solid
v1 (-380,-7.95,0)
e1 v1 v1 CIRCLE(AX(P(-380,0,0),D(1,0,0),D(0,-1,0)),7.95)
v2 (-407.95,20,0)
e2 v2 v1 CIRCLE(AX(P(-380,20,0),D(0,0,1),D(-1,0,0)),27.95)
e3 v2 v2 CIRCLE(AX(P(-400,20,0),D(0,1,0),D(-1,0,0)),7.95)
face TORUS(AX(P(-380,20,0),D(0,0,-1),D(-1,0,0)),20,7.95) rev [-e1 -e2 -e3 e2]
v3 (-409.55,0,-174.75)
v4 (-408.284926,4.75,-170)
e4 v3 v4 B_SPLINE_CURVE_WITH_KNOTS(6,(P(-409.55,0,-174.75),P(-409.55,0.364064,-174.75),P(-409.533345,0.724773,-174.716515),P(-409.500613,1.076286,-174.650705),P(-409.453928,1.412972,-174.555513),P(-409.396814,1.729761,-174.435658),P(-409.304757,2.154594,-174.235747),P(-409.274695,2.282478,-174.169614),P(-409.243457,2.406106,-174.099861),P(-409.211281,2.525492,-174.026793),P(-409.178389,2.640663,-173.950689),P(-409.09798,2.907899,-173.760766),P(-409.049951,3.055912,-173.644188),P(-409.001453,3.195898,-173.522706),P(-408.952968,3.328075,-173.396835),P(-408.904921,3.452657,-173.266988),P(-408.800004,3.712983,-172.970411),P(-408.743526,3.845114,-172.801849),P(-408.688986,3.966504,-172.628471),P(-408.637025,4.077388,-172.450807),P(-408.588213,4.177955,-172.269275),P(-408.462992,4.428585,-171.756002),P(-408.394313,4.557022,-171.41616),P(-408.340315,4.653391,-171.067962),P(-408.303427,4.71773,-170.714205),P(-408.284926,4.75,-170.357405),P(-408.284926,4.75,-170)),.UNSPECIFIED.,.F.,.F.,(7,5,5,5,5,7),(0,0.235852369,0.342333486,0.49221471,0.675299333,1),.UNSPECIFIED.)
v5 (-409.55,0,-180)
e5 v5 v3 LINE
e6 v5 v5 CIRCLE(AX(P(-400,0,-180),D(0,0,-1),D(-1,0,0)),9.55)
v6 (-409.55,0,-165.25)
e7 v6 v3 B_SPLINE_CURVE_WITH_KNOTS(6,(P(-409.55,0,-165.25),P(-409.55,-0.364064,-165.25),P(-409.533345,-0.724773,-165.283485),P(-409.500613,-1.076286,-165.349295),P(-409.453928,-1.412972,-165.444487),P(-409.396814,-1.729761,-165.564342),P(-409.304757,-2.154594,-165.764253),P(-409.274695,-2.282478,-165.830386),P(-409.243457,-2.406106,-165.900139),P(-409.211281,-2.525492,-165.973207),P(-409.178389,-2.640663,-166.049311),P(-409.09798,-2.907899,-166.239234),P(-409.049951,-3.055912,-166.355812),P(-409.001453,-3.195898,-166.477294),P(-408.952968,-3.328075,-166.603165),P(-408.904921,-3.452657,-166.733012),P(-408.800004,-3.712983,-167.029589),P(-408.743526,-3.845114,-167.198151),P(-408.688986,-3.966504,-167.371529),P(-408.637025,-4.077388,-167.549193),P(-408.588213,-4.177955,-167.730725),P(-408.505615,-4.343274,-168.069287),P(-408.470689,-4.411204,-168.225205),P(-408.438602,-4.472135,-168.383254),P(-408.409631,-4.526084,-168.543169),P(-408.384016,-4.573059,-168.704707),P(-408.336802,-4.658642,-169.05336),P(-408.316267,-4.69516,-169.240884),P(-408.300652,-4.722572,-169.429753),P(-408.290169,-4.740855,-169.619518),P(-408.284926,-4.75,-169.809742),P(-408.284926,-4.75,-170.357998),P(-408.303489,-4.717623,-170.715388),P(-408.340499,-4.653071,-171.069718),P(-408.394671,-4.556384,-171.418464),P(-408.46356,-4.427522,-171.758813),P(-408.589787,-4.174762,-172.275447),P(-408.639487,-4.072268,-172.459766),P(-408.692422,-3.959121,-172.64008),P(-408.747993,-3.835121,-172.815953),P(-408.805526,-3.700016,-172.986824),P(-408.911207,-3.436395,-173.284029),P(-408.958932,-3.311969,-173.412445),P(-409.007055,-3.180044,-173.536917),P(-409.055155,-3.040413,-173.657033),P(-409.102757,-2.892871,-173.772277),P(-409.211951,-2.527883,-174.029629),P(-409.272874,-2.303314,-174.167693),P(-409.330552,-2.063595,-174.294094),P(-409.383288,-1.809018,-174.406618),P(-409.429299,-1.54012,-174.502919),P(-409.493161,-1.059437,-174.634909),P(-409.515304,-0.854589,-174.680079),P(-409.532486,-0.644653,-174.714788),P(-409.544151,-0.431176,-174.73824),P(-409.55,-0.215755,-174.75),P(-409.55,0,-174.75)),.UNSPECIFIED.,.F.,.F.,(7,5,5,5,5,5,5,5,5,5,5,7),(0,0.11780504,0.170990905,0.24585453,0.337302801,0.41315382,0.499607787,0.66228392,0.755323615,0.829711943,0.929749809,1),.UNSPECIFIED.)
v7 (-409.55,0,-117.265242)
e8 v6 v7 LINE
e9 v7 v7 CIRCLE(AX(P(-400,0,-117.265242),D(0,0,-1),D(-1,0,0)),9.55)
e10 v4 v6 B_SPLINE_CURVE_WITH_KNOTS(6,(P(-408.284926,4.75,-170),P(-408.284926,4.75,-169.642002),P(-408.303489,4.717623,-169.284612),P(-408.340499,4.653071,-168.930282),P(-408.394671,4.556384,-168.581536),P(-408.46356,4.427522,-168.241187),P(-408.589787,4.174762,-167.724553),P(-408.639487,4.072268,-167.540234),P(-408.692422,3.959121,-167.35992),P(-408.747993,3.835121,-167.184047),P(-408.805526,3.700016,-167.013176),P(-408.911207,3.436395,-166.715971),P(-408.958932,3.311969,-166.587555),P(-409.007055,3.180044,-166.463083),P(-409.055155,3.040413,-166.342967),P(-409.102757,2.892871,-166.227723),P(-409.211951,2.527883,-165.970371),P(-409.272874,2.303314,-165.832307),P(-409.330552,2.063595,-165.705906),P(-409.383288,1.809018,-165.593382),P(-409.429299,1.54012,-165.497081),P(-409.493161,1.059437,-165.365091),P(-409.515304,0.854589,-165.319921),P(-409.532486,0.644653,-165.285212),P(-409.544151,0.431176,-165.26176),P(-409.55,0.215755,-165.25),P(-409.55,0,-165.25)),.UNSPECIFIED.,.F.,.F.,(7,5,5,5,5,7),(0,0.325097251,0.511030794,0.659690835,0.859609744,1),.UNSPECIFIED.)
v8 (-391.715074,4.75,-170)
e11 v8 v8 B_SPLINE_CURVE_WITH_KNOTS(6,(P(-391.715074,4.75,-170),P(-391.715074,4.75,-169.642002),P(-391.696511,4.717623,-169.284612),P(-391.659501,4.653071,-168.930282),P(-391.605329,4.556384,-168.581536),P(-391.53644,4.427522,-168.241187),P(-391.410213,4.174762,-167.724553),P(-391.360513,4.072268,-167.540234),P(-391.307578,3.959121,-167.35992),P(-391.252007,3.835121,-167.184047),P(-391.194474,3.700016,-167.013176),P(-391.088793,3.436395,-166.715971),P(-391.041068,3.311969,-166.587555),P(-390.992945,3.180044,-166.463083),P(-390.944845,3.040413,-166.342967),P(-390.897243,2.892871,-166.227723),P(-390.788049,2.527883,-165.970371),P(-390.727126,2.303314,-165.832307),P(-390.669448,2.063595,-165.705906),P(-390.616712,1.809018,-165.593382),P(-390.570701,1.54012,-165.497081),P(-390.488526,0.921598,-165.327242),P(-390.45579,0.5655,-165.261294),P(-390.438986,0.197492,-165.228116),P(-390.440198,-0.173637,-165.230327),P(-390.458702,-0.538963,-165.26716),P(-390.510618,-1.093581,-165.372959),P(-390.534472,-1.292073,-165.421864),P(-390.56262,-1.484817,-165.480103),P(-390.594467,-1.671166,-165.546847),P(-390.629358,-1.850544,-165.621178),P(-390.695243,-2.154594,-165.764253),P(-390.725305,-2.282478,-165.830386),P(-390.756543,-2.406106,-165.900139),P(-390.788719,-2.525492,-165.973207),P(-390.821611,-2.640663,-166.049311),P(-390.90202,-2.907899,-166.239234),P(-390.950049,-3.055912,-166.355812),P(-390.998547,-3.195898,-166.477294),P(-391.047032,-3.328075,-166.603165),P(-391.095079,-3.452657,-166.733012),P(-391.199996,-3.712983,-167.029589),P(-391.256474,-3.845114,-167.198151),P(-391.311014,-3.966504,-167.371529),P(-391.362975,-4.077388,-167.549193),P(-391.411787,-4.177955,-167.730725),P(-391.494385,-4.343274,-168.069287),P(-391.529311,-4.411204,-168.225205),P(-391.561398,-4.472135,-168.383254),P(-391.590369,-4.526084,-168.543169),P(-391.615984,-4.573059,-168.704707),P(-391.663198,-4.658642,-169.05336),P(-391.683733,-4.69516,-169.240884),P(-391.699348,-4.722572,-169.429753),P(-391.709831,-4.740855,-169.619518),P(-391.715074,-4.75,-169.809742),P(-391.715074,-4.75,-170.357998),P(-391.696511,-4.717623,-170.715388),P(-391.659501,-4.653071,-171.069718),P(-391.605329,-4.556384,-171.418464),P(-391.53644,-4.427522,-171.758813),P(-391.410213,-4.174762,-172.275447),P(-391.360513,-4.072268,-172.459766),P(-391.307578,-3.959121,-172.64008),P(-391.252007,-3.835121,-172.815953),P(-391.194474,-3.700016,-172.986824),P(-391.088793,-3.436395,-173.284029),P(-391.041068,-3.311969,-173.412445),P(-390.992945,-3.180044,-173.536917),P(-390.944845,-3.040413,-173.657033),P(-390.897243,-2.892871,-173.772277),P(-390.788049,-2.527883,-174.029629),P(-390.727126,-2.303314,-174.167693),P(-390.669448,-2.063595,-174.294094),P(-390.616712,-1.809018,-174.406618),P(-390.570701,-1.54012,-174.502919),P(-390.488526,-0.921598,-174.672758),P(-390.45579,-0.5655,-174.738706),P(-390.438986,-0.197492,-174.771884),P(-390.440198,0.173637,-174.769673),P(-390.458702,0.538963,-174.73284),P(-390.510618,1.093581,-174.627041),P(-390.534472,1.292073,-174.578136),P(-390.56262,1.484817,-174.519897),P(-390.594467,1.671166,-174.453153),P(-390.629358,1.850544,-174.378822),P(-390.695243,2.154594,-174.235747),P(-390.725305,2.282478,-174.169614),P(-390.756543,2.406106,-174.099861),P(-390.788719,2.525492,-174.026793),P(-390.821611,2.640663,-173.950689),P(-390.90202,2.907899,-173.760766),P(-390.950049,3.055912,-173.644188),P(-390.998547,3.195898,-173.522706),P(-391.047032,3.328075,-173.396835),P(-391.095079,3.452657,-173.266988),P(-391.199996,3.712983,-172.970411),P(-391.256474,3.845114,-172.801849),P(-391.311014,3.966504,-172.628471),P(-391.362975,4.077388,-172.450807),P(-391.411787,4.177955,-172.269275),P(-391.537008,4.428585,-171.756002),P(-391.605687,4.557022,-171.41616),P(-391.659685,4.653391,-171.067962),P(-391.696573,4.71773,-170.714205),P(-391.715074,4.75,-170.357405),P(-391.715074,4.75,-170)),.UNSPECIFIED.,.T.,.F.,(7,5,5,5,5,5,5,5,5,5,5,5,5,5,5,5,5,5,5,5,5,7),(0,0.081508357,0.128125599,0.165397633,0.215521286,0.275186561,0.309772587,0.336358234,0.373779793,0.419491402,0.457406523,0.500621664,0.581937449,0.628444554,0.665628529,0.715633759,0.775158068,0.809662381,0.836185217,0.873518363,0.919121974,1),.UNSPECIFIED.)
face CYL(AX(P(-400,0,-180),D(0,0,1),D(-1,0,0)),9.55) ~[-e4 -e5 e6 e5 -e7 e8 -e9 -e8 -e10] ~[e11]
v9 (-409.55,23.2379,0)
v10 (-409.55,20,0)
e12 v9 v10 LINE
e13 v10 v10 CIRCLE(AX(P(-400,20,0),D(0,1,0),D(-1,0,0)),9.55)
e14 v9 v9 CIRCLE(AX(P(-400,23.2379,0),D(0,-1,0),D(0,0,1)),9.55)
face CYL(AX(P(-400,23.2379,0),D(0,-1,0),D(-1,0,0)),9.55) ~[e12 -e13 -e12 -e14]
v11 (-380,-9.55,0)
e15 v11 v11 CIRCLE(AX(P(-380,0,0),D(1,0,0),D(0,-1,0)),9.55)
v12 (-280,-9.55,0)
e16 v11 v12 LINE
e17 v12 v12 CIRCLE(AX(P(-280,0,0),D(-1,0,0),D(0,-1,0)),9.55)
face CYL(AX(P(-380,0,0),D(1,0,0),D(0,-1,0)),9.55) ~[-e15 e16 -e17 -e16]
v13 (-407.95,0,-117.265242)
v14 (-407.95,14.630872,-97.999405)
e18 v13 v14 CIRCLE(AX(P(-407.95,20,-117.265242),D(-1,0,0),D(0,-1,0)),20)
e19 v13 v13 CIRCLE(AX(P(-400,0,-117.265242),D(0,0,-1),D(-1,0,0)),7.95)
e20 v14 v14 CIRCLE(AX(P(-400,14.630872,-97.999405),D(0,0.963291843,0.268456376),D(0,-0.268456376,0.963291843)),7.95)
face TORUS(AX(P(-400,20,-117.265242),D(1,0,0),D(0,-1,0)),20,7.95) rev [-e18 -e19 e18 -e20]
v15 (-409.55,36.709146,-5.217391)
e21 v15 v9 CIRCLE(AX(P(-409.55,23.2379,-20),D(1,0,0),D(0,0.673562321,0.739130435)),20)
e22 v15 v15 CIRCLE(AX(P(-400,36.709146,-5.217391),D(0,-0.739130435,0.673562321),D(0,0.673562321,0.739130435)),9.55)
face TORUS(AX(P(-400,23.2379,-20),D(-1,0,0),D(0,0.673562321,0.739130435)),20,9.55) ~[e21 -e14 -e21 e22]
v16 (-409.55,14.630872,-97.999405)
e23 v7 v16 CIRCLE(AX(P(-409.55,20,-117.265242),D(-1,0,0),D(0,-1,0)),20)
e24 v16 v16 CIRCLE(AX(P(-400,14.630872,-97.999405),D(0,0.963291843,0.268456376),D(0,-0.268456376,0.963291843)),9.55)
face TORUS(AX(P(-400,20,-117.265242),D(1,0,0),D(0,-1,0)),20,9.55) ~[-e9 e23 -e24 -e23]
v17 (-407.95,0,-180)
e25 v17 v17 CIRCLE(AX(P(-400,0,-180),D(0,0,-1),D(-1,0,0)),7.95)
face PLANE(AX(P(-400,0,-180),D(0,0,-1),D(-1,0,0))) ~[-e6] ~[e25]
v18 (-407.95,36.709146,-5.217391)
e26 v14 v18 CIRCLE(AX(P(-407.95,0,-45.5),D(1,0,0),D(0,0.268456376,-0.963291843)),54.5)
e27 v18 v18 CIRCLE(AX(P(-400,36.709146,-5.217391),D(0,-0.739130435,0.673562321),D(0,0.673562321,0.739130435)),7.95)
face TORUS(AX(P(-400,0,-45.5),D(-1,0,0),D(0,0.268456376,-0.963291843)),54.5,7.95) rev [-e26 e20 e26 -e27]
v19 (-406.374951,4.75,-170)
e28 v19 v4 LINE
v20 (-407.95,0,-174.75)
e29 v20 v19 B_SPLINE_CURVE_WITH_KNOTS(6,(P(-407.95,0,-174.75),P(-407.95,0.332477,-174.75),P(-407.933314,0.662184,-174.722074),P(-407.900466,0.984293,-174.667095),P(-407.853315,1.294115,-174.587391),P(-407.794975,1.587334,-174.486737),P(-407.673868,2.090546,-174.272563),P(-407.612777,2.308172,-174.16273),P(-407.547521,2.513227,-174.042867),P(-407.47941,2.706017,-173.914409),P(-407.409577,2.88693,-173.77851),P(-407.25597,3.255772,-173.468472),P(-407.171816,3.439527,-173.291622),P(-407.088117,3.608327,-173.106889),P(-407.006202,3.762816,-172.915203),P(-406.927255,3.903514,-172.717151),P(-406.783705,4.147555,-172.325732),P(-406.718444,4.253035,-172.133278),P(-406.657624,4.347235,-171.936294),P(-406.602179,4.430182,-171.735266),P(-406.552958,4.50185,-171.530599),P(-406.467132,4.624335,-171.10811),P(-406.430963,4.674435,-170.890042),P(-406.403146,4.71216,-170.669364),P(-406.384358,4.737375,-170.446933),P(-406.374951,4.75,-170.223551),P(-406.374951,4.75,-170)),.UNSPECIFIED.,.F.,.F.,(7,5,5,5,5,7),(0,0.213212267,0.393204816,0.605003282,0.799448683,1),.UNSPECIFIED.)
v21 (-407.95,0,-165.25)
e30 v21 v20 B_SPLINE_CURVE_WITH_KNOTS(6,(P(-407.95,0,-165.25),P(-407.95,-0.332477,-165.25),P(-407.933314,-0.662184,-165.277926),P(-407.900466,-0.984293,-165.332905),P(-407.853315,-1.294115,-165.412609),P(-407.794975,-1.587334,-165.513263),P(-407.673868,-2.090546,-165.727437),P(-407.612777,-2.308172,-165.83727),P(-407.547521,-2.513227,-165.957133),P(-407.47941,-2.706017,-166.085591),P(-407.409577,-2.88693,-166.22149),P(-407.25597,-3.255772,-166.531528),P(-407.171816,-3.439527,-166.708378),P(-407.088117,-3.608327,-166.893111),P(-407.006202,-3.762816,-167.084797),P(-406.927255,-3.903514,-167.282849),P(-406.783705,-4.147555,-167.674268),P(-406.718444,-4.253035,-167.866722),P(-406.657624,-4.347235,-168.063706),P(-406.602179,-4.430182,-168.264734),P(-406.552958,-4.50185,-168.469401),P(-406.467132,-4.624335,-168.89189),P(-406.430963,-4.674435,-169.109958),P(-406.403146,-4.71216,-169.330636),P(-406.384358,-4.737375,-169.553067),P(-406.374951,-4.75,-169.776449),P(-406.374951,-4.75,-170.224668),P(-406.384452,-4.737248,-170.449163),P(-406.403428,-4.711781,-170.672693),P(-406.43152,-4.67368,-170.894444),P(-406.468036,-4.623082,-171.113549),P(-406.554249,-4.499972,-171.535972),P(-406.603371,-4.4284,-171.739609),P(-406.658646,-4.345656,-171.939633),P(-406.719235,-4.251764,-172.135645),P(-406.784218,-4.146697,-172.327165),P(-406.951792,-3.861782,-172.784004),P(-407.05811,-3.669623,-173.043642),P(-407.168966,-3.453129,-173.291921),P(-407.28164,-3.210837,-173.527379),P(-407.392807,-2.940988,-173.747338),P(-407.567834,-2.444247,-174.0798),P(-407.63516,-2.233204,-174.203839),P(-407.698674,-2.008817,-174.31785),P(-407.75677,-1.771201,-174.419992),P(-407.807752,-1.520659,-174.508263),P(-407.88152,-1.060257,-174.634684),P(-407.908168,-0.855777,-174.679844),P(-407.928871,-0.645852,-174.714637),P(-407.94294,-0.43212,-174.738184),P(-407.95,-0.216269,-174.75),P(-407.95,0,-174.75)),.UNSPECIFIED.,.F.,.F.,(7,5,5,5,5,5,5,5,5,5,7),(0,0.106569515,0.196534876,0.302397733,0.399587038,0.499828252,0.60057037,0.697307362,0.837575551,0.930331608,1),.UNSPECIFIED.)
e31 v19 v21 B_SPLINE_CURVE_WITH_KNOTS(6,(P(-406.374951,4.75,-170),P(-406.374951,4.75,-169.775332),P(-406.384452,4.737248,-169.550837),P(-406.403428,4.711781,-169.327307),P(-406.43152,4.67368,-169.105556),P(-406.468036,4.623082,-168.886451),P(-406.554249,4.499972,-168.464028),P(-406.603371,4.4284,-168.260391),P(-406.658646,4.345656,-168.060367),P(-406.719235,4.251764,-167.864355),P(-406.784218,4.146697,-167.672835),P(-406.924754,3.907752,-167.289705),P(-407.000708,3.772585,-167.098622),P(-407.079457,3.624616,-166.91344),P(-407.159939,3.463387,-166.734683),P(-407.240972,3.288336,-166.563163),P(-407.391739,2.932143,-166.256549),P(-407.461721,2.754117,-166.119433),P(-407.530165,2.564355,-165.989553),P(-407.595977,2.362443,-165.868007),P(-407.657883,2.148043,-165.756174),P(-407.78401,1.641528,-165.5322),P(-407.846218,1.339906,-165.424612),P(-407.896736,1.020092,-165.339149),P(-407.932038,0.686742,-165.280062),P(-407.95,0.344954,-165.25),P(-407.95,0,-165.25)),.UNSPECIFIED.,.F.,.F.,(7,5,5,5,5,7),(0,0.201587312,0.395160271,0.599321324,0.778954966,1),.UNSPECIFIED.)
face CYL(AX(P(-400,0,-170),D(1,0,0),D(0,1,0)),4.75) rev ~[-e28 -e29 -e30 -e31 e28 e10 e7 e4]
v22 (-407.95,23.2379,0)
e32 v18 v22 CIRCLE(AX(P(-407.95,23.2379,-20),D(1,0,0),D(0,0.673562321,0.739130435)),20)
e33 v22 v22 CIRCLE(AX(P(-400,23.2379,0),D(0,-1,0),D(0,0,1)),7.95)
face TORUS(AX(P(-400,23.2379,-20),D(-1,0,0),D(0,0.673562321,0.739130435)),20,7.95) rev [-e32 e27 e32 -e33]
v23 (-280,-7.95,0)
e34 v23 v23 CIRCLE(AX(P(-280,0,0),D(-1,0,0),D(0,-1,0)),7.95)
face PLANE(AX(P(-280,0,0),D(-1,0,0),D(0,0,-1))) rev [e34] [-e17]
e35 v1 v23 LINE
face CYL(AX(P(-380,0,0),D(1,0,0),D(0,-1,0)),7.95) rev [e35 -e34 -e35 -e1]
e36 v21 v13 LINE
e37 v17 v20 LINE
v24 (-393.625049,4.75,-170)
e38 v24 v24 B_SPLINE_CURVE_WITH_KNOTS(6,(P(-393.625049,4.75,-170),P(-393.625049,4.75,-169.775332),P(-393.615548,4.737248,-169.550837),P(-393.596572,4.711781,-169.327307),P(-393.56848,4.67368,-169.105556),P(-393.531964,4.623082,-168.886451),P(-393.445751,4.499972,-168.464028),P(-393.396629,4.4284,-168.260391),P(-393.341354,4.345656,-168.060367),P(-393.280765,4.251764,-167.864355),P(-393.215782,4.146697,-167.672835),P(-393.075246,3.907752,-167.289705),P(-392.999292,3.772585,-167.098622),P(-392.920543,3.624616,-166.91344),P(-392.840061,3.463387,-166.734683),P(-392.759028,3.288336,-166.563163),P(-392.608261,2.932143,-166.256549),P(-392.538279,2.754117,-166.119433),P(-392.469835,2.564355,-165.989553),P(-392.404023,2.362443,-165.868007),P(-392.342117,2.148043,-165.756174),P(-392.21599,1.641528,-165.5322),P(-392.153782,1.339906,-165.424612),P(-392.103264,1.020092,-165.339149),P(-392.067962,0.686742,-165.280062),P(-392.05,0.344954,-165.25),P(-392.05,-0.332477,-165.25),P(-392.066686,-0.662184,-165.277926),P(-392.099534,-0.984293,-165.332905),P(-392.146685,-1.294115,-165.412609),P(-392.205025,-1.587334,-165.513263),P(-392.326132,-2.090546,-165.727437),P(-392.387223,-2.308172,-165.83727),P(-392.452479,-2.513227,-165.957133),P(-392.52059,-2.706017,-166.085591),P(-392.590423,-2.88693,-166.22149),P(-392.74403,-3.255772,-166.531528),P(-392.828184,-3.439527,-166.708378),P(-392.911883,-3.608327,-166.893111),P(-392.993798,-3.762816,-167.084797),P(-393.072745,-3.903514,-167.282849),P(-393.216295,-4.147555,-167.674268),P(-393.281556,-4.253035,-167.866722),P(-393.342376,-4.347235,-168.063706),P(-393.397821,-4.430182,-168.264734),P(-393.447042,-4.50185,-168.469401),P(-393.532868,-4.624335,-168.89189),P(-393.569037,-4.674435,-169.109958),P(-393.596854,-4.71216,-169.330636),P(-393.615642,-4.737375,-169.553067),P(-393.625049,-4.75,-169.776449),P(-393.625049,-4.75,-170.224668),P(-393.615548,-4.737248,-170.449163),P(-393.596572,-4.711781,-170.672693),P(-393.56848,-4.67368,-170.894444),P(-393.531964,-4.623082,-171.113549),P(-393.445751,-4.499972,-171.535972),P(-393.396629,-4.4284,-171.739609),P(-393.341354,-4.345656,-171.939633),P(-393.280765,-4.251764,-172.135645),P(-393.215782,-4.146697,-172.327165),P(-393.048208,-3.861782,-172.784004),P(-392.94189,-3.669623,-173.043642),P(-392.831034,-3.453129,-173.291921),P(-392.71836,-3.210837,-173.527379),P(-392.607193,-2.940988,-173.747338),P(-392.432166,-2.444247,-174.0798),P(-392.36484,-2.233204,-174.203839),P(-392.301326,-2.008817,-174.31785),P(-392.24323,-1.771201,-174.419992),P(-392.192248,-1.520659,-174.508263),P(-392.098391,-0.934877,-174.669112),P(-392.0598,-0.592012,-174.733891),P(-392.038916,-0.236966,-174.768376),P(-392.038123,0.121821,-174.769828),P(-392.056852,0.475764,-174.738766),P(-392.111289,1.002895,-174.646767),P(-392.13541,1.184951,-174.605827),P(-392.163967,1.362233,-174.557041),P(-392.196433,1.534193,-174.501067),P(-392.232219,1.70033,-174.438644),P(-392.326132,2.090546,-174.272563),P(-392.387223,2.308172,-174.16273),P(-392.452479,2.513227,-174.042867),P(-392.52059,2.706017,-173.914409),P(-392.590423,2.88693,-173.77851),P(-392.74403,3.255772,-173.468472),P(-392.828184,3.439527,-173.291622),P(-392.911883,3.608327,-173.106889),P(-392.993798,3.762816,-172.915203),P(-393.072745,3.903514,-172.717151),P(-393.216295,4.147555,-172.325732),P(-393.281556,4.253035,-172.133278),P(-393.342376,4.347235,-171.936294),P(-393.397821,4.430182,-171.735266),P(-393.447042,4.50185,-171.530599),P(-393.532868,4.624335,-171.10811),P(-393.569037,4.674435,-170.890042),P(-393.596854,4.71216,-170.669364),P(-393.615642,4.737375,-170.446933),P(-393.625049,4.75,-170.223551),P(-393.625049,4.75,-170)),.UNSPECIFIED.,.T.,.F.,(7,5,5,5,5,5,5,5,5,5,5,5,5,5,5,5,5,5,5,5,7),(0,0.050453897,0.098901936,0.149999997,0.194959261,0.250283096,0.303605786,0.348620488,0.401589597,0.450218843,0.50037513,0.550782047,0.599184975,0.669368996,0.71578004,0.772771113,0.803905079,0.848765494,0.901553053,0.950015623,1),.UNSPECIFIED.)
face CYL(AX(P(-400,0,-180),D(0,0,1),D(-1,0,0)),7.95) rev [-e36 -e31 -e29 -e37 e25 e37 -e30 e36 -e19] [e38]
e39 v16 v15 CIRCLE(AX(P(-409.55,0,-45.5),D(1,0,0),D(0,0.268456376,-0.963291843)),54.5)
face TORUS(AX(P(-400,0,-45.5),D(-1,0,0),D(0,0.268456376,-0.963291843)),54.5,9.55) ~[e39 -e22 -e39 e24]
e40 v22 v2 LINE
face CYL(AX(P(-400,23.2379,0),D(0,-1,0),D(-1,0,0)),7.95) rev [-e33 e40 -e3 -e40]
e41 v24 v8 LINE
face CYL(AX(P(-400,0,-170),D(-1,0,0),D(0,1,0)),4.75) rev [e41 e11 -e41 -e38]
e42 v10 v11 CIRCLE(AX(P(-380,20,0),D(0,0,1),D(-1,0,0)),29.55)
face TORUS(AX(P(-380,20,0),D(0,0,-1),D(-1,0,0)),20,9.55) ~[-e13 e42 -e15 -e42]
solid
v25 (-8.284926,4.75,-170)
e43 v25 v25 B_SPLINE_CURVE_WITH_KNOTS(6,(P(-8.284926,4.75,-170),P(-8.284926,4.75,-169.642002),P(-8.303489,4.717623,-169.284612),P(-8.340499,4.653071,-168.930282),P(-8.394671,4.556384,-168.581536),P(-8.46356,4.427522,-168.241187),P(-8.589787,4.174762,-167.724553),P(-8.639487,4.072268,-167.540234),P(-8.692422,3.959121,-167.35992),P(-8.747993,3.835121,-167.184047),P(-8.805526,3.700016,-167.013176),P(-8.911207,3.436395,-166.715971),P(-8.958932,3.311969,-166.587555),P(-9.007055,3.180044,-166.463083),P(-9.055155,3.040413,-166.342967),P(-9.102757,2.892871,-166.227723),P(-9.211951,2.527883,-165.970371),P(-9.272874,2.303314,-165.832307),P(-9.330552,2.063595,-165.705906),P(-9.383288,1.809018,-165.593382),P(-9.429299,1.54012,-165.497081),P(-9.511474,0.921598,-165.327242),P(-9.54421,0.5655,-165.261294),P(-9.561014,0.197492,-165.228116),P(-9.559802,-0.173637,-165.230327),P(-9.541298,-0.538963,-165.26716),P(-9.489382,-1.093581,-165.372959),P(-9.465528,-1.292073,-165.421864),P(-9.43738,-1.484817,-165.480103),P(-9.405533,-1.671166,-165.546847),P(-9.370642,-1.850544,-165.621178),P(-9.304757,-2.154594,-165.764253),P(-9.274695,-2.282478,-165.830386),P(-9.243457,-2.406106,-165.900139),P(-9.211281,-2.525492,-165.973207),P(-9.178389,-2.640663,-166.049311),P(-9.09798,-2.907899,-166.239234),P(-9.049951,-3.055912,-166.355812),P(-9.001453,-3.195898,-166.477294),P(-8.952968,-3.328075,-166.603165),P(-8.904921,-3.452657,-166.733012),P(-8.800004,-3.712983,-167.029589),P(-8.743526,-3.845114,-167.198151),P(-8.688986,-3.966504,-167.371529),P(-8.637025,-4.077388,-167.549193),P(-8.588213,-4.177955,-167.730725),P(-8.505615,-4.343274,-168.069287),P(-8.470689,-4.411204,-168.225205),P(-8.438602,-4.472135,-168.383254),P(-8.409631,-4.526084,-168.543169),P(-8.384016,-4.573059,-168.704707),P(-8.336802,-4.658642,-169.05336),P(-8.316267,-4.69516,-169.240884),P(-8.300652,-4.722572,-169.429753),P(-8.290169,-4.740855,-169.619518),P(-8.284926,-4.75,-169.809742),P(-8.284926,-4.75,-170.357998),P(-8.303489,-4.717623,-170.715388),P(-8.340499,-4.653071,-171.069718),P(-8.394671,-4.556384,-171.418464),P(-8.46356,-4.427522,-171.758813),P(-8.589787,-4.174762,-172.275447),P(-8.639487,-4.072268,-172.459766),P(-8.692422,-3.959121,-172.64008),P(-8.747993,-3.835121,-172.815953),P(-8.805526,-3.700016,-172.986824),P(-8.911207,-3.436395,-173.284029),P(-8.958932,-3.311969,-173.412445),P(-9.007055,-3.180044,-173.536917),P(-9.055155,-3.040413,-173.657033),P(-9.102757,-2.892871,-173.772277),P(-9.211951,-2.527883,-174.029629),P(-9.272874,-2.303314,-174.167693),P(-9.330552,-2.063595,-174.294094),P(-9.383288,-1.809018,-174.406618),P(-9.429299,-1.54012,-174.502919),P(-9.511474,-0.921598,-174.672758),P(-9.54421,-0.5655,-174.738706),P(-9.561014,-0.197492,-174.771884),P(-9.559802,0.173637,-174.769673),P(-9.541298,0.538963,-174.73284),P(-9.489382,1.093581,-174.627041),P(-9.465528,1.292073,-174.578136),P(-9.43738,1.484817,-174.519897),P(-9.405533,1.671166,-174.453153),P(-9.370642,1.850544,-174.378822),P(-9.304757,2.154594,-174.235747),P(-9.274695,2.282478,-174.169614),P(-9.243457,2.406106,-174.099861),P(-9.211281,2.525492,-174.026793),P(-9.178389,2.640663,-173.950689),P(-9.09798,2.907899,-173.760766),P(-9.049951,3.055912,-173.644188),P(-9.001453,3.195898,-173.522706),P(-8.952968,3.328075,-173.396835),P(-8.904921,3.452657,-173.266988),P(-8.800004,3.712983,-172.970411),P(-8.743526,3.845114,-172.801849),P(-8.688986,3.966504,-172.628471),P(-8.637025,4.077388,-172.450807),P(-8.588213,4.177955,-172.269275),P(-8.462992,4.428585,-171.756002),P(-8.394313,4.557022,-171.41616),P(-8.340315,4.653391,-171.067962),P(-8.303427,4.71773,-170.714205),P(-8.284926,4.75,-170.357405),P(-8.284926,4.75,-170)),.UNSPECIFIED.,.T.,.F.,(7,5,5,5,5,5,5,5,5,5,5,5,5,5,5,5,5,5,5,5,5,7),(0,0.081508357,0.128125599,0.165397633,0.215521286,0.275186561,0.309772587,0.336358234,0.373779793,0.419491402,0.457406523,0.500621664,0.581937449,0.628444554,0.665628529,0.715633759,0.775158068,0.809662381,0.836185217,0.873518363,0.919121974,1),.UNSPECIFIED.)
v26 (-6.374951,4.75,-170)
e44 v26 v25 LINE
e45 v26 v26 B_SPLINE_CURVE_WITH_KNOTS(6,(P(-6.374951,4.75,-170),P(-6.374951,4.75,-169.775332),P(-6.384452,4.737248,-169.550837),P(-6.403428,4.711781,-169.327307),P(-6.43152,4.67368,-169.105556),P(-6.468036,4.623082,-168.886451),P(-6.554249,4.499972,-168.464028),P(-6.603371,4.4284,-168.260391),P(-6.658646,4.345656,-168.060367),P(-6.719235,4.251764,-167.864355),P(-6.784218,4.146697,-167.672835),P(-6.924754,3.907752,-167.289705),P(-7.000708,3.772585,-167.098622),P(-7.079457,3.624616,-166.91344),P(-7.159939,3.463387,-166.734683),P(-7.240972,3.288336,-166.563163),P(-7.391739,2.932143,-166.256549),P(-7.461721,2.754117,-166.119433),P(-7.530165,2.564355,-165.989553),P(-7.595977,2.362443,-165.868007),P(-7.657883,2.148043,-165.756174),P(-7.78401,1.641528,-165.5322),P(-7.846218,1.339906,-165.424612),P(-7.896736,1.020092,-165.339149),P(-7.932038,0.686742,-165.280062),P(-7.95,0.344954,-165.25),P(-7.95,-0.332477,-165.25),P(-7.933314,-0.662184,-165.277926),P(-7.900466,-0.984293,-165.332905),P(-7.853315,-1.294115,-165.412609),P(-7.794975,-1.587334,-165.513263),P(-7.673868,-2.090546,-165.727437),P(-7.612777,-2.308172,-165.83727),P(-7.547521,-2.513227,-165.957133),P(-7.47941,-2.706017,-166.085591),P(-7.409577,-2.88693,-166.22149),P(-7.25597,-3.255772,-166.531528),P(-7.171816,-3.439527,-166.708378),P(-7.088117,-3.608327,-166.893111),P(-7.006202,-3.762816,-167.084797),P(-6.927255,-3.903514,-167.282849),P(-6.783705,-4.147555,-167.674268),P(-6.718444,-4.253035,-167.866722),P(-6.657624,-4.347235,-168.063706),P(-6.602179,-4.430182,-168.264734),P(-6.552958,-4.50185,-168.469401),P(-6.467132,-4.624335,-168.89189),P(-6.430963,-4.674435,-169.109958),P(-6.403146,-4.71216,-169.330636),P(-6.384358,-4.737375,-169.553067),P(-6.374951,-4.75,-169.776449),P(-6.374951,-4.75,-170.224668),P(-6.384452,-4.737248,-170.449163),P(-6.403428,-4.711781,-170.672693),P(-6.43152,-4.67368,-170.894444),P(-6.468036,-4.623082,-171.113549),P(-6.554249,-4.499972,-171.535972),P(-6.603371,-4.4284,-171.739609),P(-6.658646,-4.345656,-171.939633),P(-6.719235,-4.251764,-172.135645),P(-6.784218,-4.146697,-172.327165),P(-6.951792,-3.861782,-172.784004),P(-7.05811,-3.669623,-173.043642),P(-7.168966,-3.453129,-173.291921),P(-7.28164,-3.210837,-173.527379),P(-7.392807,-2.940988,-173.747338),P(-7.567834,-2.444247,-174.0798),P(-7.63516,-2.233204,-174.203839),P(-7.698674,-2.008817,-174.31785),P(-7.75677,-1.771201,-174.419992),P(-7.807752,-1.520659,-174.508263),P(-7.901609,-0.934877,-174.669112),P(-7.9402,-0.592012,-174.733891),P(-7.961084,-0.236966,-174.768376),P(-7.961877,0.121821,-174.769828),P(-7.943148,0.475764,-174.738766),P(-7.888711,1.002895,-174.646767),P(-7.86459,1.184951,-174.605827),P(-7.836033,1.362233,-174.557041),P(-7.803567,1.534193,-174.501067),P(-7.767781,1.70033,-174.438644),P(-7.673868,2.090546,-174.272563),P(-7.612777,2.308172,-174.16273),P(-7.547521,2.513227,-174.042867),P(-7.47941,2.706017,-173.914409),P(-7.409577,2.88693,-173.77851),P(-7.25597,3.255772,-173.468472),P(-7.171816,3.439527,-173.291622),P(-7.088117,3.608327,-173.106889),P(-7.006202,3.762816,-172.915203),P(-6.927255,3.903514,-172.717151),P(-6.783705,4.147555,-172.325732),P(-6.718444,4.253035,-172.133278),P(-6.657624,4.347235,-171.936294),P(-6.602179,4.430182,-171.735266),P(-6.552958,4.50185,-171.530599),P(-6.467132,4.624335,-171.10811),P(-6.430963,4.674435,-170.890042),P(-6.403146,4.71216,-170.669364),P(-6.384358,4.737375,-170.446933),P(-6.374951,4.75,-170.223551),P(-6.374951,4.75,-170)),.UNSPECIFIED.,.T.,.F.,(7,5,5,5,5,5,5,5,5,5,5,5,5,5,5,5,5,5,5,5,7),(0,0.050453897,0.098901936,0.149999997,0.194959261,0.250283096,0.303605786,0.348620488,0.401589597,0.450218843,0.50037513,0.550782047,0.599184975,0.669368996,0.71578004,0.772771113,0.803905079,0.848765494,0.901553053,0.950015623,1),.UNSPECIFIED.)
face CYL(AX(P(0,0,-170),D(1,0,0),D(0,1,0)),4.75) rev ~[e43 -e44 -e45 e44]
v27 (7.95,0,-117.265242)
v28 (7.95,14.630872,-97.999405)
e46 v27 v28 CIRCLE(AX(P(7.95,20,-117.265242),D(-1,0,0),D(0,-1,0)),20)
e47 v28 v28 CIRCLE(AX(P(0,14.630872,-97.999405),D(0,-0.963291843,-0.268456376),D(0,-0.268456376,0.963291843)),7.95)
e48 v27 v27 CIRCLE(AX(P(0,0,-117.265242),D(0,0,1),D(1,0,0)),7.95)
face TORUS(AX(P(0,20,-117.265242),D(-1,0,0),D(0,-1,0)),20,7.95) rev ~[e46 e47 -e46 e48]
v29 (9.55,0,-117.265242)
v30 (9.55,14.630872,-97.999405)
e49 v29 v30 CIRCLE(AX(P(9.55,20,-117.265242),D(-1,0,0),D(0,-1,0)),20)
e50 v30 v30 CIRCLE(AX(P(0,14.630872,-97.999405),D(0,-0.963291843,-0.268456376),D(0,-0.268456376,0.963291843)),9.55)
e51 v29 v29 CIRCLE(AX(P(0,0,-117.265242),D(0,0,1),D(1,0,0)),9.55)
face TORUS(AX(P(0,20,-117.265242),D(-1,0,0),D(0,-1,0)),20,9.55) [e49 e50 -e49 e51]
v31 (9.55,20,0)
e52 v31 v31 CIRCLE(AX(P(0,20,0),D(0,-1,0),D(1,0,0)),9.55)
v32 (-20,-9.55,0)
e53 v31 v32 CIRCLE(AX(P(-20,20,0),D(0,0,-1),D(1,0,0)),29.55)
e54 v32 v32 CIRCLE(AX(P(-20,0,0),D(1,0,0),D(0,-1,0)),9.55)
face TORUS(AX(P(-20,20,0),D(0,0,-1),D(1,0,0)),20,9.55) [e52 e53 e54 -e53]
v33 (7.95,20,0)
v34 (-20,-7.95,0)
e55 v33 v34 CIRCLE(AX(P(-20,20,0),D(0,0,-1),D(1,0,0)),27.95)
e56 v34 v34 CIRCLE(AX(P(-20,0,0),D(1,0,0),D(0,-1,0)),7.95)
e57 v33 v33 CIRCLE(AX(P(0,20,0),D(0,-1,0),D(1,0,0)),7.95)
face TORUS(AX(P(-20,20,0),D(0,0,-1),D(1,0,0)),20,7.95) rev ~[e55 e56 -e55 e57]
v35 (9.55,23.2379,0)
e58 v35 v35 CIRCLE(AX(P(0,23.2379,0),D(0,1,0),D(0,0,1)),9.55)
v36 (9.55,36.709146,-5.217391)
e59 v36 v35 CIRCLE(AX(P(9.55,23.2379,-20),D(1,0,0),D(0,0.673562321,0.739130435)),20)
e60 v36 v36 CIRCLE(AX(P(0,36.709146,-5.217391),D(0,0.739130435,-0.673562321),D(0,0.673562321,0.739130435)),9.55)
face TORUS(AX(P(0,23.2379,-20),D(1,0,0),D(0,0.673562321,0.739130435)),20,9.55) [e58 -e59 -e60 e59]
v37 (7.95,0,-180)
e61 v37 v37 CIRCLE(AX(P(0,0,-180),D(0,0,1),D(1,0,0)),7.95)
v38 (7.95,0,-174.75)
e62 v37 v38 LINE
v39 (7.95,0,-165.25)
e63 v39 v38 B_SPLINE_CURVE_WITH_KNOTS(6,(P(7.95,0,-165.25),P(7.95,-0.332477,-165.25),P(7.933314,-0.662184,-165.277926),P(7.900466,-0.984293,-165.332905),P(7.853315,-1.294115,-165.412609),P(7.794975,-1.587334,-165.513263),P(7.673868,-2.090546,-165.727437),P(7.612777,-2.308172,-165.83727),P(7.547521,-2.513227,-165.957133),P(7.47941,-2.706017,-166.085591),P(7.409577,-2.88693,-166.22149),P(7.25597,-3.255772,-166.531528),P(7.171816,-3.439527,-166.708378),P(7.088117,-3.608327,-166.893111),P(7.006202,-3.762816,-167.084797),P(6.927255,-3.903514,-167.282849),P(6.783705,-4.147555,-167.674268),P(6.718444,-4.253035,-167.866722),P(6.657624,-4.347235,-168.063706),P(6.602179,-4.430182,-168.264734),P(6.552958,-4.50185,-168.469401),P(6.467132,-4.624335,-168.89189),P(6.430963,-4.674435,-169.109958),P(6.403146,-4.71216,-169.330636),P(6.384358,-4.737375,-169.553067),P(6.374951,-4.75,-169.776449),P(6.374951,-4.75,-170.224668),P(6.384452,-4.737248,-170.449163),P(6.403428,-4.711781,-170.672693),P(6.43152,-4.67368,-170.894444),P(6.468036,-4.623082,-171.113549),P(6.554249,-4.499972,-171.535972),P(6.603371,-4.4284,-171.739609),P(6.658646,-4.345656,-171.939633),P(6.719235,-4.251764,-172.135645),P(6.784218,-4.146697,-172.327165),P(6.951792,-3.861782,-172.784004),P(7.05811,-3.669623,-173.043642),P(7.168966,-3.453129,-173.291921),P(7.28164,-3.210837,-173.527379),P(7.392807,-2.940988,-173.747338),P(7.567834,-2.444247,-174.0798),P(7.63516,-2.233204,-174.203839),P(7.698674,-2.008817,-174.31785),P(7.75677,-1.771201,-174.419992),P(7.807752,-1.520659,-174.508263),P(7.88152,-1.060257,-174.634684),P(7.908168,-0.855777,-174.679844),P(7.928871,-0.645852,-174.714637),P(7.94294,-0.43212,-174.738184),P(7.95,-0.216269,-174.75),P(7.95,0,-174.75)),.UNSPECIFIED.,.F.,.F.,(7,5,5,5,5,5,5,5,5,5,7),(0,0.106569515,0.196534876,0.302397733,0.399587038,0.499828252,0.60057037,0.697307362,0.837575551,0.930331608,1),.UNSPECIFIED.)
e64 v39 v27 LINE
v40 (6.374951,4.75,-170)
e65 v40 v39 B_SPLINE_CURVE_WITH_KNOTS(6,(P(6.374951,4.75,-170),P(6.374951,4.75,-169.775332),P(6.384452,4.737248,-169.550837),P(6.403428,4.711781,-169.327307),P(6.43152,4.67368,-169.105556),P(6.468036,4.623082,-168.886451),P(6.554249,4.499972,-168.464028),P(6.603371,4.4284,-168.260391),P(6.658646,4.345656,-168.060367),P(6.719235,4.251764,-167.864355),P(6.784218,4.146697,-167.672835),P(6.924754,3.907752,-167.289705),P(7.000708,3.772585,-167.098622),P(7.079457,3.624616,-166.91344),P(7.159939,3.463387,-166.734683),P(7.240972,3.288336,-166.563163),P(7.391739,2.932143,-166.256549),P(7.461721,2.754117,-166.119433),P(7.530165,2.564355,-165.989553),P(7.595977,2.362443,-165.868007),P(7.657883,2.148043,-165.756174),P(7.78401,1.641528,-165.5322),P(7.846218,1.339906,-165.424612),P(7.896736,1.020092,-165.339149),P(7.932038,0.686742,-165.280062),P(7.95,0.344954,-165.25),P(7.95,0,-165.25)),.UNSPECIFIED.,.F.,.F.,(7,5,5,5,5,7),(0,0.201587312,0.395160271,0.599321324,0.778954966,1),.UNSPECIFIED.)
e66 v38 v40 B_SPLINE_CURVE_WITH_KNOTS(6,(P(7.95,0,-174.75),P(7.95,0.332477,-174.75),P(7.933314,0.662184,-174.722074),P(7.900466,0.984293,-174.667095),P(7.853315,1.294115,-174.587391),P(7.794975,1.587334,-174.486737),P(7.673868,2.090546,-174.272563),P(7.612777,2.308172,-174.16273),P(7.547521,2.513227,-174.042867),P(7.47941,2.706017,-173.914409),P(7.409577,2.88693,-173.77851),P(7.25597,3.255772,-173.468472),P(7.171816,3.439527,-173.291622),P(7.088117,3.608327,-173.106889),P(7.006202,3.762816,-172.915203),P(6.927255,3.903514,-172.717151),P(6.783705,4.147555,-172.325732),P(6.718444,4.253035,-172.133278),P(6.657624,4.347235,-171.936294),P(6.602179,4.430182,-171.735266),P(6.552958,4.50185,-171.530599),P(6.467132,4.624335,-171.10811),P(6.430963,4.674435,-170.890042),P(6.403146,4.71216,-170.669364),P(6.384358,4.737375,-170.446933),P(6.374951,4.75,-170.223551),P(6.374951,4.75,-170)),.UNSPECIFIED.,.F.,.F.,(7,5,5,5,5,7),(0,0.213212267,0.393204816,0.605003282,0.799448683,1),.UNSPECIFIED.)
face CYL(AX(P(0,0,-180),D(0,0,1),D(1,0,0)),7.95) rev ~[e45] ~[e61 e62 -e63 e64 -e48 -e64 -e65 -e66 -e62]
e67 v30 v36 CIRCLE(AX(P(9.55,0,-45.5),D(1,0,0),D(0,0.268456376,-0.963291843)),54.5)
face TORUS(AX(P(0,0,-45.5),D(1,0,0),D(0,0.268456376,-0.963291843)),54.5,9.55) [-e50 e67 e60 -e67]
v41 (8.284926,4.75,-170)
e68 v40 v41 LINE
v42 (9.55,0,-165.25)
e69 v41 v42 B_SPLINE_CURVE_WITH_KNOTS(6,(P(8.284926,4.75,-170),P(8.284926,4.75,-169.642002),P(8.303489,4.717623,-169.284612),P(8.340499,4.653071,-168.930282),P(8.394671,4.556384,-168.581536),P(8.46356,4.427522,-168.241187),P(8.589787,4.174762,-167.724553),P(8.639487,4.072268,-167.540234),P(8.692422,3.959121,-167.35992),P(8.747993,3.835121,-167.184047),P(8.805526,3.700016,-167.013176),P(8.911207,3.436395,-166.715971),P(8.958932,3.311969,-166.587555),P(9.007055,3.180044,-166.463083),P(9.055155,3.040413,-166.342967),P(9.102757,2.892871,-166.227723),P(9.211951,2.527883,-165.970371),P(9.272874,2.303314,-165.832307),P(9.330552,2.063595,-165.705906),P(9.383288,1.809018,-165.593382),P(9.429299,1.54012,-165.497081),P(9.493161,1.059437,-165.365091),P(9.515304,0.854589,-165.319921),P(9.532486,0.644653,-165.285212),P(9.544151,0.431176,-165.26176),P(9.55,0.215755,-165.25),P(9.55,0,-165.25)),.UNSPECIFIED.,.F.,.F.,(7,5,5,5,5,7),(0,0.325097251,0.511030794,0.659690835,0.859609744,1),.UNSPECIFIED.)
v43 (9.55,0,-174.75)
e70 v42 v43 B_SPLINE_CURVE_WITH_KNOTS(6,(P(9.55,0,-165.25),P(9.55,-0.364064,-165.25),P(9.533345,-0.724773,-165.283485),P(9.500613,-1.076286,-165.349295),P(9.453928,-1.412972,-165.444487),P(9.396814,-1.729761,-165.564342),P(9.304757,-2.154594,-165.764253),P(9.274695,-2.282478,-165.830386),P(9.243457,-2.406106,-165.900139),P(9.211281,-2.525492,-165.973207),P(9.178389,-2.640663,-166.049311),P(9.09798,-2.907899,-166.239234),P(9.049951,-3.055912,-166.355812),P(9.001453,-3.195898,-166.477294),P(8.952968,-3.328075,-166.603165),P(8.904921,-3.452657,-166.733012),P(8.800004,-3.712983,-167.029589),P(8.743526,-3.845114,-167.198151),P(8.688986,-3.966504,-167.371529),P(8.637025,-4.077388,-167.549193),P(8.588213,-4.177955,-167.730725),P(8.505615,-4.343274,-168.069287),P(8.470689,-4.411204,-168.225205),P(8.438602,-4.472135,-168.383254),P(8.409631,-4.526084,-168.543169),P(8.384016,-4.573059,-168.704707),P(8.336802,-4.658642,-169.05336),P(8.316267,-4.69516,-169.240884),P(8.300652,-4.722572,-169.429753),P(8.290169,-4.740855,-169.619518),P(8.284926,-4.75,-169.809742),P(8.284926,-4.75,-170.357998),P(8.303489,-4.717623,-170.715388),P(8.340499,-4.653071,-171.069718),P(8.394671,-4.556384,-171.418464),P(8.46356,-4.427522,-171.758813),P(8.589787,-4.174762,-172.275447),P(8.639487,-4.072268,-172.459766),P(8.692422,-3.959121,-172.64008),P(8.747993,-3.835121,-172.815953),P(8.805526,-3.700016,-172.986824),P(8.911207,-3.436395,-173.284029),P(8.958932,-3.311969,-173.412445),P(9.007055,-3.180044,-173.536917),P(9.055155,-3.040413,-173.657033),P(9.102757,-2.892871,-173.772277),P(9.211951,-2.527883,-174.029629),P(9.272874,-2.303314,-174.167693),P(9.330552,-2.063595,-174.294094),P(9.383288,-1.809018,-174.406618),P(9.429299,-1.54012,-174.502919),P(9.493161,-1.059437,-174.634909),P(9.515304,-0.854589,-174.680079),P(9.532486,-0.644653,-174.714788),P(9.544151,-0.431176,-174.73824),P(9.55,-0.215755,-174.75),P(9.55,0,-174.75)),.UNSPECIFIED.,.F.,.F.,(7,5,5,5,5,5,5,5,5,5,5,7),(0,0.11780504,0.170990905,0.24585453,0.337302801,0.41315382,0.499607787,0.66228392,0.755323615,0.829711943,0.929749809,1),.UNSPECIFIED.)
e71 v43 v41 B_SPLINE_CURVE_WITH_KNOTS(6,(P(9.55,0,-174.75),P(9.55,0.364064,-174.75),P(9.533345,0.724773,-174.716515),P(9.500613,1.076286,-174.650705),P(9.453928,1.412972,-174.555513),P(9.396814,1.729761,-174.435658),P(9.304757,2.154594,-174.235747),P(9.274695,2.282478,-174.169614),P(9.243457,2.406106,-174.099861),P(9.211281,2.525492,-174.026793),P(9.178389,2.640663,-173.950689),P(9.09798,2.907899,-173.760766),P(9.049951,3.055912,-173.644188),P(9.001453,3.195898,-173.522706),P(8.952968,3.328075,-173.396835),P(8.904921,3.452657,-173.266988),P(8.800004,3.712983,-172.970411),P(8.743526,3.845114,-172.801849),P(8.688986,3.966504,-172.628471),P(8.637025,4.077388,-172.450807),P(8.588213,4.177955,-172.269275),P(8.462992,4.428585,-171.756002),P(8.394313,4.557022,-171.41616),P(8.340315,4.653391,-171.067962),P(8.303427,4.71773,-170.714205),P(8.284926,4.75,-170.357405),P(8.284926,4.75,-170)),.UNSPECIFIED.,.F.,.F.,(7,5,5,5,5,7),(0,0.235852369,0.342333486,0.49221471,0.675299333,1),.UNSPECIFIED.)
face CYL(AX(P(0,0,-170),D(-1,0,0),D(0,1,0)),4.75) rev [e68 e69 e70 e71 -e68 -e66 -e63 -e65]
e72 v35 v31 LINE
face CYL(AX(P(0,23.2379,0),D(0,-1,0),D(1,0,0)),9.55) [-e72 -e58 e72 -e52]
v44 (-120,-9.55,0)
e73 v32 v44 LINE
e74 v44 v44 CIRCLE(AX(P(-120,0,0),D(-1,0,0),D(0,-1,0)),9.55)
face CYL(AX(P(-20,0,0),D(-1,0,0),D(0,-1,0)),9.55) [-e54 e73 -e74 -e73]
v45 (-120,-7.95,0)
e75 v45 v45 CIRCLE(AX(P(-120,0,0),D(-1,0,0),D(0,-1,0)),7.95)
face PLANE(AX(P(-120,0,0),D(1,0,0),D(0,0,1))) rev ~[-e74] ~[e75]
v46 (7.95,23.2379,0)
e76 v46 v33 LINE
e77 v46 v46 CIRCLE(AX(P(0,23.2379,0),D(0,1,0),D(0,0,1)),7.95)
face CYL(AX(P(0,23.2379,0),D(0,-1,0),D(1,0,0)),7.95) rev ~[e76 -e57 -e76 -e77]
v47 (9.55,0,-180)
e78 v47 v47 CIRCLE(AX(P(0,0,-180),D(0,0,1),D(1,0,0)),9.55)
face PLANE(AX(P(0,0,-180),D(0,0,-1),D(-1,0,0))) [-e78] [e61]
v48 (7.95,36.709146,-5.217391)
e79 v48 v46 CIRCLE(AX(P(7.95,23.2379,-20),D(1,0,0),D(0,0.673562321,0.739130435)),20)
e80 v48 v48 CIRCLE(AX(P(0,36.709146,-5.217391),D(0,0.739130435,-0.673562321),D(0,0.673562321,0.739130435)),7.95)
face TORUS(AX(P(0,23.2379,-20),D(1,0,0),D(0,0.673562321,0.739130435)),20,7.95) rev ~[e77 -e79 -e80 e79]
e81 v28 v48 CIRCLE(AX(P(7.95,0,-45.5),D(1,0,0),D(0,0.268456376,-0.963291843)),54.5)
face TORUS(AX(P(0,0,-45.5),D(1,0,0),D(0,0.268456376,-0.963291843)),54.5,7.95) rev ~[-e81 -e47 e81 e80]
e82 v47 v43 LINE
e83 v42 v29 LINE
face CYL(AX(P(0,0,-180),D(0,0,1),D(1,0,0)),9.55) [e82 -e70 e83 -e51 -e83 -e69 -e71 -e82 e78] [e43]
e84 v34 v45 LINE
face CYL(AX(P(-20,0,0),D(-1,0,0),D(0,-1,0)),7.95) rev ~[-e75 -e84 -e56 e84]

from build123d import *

# Parameters (mm, degrees)
F3_R          = 9.55
F3_R_2        = 7.95
F5_R          = 4.75
F6_DEPTH      = 120.001
F6_DEPTH_BACK = 9.5510001


with BuildPart() as f4:
    # F4: sweep along a path in F0, F1
    with BuildLine(Plane.YZ) as f4_path:
        Line((0, -180), (0, -117.2652422834))
        ThreePointArc((0, -117.2652422834), (4.0723110538, -105.1694279317), (14.6308724832, -97.9994054288))
        ThreePointArc((14.6308724832, -97.9994054288), (53.0195711367, -58.116460537), (36.7091464988, -5.2173913043))
        ThreePointArc((36.7091464988, -5.2173913043), (30.4610512624, -1.3499038352), (23.2379000772, 0))
    with BuildLine(Plane.XY) as f4_path_2:
        Line((0, 23.2379000772), (0, 20))
        ThreePointArc((0, 20), (-5.8578643763, 5.8578643763), (-20, 0))
        Line((-20, 0), (-120, 0))
    # F3 (on line) → F4 (sweep)
    with BuildSketch(Plane(origin=(0, 0, -180), x_dir=(1, 0, 0), z_dir=(0, 0, -1))):
        Circle(F3_R)
        Circle(F3_R_2, mode=Mode.SUBTRACT)
    sweep(path=f4_path.line + f4_path_2.line)

    # F5 (on Right) → F6 (cut, two sides)
    with BuildSketch(Plane.YZ) as f6_sk:
        with Locations((0, -170)):
            Circle(F5_R)
    extrude(amount=-F6_DEPTH, mode=Mode.SUBTRACT)
    extrude(f6_sk.sketch, amount=F6_DEPTH_BACK, mode=Mode.SUBTRACT)


with BuildPart() as f8_1:
    # F8: instance of F4
    add(f4.part.mirror(Plane.YZ.offset(-200)))


solid = Compound([f4.part, f8_1.part])
